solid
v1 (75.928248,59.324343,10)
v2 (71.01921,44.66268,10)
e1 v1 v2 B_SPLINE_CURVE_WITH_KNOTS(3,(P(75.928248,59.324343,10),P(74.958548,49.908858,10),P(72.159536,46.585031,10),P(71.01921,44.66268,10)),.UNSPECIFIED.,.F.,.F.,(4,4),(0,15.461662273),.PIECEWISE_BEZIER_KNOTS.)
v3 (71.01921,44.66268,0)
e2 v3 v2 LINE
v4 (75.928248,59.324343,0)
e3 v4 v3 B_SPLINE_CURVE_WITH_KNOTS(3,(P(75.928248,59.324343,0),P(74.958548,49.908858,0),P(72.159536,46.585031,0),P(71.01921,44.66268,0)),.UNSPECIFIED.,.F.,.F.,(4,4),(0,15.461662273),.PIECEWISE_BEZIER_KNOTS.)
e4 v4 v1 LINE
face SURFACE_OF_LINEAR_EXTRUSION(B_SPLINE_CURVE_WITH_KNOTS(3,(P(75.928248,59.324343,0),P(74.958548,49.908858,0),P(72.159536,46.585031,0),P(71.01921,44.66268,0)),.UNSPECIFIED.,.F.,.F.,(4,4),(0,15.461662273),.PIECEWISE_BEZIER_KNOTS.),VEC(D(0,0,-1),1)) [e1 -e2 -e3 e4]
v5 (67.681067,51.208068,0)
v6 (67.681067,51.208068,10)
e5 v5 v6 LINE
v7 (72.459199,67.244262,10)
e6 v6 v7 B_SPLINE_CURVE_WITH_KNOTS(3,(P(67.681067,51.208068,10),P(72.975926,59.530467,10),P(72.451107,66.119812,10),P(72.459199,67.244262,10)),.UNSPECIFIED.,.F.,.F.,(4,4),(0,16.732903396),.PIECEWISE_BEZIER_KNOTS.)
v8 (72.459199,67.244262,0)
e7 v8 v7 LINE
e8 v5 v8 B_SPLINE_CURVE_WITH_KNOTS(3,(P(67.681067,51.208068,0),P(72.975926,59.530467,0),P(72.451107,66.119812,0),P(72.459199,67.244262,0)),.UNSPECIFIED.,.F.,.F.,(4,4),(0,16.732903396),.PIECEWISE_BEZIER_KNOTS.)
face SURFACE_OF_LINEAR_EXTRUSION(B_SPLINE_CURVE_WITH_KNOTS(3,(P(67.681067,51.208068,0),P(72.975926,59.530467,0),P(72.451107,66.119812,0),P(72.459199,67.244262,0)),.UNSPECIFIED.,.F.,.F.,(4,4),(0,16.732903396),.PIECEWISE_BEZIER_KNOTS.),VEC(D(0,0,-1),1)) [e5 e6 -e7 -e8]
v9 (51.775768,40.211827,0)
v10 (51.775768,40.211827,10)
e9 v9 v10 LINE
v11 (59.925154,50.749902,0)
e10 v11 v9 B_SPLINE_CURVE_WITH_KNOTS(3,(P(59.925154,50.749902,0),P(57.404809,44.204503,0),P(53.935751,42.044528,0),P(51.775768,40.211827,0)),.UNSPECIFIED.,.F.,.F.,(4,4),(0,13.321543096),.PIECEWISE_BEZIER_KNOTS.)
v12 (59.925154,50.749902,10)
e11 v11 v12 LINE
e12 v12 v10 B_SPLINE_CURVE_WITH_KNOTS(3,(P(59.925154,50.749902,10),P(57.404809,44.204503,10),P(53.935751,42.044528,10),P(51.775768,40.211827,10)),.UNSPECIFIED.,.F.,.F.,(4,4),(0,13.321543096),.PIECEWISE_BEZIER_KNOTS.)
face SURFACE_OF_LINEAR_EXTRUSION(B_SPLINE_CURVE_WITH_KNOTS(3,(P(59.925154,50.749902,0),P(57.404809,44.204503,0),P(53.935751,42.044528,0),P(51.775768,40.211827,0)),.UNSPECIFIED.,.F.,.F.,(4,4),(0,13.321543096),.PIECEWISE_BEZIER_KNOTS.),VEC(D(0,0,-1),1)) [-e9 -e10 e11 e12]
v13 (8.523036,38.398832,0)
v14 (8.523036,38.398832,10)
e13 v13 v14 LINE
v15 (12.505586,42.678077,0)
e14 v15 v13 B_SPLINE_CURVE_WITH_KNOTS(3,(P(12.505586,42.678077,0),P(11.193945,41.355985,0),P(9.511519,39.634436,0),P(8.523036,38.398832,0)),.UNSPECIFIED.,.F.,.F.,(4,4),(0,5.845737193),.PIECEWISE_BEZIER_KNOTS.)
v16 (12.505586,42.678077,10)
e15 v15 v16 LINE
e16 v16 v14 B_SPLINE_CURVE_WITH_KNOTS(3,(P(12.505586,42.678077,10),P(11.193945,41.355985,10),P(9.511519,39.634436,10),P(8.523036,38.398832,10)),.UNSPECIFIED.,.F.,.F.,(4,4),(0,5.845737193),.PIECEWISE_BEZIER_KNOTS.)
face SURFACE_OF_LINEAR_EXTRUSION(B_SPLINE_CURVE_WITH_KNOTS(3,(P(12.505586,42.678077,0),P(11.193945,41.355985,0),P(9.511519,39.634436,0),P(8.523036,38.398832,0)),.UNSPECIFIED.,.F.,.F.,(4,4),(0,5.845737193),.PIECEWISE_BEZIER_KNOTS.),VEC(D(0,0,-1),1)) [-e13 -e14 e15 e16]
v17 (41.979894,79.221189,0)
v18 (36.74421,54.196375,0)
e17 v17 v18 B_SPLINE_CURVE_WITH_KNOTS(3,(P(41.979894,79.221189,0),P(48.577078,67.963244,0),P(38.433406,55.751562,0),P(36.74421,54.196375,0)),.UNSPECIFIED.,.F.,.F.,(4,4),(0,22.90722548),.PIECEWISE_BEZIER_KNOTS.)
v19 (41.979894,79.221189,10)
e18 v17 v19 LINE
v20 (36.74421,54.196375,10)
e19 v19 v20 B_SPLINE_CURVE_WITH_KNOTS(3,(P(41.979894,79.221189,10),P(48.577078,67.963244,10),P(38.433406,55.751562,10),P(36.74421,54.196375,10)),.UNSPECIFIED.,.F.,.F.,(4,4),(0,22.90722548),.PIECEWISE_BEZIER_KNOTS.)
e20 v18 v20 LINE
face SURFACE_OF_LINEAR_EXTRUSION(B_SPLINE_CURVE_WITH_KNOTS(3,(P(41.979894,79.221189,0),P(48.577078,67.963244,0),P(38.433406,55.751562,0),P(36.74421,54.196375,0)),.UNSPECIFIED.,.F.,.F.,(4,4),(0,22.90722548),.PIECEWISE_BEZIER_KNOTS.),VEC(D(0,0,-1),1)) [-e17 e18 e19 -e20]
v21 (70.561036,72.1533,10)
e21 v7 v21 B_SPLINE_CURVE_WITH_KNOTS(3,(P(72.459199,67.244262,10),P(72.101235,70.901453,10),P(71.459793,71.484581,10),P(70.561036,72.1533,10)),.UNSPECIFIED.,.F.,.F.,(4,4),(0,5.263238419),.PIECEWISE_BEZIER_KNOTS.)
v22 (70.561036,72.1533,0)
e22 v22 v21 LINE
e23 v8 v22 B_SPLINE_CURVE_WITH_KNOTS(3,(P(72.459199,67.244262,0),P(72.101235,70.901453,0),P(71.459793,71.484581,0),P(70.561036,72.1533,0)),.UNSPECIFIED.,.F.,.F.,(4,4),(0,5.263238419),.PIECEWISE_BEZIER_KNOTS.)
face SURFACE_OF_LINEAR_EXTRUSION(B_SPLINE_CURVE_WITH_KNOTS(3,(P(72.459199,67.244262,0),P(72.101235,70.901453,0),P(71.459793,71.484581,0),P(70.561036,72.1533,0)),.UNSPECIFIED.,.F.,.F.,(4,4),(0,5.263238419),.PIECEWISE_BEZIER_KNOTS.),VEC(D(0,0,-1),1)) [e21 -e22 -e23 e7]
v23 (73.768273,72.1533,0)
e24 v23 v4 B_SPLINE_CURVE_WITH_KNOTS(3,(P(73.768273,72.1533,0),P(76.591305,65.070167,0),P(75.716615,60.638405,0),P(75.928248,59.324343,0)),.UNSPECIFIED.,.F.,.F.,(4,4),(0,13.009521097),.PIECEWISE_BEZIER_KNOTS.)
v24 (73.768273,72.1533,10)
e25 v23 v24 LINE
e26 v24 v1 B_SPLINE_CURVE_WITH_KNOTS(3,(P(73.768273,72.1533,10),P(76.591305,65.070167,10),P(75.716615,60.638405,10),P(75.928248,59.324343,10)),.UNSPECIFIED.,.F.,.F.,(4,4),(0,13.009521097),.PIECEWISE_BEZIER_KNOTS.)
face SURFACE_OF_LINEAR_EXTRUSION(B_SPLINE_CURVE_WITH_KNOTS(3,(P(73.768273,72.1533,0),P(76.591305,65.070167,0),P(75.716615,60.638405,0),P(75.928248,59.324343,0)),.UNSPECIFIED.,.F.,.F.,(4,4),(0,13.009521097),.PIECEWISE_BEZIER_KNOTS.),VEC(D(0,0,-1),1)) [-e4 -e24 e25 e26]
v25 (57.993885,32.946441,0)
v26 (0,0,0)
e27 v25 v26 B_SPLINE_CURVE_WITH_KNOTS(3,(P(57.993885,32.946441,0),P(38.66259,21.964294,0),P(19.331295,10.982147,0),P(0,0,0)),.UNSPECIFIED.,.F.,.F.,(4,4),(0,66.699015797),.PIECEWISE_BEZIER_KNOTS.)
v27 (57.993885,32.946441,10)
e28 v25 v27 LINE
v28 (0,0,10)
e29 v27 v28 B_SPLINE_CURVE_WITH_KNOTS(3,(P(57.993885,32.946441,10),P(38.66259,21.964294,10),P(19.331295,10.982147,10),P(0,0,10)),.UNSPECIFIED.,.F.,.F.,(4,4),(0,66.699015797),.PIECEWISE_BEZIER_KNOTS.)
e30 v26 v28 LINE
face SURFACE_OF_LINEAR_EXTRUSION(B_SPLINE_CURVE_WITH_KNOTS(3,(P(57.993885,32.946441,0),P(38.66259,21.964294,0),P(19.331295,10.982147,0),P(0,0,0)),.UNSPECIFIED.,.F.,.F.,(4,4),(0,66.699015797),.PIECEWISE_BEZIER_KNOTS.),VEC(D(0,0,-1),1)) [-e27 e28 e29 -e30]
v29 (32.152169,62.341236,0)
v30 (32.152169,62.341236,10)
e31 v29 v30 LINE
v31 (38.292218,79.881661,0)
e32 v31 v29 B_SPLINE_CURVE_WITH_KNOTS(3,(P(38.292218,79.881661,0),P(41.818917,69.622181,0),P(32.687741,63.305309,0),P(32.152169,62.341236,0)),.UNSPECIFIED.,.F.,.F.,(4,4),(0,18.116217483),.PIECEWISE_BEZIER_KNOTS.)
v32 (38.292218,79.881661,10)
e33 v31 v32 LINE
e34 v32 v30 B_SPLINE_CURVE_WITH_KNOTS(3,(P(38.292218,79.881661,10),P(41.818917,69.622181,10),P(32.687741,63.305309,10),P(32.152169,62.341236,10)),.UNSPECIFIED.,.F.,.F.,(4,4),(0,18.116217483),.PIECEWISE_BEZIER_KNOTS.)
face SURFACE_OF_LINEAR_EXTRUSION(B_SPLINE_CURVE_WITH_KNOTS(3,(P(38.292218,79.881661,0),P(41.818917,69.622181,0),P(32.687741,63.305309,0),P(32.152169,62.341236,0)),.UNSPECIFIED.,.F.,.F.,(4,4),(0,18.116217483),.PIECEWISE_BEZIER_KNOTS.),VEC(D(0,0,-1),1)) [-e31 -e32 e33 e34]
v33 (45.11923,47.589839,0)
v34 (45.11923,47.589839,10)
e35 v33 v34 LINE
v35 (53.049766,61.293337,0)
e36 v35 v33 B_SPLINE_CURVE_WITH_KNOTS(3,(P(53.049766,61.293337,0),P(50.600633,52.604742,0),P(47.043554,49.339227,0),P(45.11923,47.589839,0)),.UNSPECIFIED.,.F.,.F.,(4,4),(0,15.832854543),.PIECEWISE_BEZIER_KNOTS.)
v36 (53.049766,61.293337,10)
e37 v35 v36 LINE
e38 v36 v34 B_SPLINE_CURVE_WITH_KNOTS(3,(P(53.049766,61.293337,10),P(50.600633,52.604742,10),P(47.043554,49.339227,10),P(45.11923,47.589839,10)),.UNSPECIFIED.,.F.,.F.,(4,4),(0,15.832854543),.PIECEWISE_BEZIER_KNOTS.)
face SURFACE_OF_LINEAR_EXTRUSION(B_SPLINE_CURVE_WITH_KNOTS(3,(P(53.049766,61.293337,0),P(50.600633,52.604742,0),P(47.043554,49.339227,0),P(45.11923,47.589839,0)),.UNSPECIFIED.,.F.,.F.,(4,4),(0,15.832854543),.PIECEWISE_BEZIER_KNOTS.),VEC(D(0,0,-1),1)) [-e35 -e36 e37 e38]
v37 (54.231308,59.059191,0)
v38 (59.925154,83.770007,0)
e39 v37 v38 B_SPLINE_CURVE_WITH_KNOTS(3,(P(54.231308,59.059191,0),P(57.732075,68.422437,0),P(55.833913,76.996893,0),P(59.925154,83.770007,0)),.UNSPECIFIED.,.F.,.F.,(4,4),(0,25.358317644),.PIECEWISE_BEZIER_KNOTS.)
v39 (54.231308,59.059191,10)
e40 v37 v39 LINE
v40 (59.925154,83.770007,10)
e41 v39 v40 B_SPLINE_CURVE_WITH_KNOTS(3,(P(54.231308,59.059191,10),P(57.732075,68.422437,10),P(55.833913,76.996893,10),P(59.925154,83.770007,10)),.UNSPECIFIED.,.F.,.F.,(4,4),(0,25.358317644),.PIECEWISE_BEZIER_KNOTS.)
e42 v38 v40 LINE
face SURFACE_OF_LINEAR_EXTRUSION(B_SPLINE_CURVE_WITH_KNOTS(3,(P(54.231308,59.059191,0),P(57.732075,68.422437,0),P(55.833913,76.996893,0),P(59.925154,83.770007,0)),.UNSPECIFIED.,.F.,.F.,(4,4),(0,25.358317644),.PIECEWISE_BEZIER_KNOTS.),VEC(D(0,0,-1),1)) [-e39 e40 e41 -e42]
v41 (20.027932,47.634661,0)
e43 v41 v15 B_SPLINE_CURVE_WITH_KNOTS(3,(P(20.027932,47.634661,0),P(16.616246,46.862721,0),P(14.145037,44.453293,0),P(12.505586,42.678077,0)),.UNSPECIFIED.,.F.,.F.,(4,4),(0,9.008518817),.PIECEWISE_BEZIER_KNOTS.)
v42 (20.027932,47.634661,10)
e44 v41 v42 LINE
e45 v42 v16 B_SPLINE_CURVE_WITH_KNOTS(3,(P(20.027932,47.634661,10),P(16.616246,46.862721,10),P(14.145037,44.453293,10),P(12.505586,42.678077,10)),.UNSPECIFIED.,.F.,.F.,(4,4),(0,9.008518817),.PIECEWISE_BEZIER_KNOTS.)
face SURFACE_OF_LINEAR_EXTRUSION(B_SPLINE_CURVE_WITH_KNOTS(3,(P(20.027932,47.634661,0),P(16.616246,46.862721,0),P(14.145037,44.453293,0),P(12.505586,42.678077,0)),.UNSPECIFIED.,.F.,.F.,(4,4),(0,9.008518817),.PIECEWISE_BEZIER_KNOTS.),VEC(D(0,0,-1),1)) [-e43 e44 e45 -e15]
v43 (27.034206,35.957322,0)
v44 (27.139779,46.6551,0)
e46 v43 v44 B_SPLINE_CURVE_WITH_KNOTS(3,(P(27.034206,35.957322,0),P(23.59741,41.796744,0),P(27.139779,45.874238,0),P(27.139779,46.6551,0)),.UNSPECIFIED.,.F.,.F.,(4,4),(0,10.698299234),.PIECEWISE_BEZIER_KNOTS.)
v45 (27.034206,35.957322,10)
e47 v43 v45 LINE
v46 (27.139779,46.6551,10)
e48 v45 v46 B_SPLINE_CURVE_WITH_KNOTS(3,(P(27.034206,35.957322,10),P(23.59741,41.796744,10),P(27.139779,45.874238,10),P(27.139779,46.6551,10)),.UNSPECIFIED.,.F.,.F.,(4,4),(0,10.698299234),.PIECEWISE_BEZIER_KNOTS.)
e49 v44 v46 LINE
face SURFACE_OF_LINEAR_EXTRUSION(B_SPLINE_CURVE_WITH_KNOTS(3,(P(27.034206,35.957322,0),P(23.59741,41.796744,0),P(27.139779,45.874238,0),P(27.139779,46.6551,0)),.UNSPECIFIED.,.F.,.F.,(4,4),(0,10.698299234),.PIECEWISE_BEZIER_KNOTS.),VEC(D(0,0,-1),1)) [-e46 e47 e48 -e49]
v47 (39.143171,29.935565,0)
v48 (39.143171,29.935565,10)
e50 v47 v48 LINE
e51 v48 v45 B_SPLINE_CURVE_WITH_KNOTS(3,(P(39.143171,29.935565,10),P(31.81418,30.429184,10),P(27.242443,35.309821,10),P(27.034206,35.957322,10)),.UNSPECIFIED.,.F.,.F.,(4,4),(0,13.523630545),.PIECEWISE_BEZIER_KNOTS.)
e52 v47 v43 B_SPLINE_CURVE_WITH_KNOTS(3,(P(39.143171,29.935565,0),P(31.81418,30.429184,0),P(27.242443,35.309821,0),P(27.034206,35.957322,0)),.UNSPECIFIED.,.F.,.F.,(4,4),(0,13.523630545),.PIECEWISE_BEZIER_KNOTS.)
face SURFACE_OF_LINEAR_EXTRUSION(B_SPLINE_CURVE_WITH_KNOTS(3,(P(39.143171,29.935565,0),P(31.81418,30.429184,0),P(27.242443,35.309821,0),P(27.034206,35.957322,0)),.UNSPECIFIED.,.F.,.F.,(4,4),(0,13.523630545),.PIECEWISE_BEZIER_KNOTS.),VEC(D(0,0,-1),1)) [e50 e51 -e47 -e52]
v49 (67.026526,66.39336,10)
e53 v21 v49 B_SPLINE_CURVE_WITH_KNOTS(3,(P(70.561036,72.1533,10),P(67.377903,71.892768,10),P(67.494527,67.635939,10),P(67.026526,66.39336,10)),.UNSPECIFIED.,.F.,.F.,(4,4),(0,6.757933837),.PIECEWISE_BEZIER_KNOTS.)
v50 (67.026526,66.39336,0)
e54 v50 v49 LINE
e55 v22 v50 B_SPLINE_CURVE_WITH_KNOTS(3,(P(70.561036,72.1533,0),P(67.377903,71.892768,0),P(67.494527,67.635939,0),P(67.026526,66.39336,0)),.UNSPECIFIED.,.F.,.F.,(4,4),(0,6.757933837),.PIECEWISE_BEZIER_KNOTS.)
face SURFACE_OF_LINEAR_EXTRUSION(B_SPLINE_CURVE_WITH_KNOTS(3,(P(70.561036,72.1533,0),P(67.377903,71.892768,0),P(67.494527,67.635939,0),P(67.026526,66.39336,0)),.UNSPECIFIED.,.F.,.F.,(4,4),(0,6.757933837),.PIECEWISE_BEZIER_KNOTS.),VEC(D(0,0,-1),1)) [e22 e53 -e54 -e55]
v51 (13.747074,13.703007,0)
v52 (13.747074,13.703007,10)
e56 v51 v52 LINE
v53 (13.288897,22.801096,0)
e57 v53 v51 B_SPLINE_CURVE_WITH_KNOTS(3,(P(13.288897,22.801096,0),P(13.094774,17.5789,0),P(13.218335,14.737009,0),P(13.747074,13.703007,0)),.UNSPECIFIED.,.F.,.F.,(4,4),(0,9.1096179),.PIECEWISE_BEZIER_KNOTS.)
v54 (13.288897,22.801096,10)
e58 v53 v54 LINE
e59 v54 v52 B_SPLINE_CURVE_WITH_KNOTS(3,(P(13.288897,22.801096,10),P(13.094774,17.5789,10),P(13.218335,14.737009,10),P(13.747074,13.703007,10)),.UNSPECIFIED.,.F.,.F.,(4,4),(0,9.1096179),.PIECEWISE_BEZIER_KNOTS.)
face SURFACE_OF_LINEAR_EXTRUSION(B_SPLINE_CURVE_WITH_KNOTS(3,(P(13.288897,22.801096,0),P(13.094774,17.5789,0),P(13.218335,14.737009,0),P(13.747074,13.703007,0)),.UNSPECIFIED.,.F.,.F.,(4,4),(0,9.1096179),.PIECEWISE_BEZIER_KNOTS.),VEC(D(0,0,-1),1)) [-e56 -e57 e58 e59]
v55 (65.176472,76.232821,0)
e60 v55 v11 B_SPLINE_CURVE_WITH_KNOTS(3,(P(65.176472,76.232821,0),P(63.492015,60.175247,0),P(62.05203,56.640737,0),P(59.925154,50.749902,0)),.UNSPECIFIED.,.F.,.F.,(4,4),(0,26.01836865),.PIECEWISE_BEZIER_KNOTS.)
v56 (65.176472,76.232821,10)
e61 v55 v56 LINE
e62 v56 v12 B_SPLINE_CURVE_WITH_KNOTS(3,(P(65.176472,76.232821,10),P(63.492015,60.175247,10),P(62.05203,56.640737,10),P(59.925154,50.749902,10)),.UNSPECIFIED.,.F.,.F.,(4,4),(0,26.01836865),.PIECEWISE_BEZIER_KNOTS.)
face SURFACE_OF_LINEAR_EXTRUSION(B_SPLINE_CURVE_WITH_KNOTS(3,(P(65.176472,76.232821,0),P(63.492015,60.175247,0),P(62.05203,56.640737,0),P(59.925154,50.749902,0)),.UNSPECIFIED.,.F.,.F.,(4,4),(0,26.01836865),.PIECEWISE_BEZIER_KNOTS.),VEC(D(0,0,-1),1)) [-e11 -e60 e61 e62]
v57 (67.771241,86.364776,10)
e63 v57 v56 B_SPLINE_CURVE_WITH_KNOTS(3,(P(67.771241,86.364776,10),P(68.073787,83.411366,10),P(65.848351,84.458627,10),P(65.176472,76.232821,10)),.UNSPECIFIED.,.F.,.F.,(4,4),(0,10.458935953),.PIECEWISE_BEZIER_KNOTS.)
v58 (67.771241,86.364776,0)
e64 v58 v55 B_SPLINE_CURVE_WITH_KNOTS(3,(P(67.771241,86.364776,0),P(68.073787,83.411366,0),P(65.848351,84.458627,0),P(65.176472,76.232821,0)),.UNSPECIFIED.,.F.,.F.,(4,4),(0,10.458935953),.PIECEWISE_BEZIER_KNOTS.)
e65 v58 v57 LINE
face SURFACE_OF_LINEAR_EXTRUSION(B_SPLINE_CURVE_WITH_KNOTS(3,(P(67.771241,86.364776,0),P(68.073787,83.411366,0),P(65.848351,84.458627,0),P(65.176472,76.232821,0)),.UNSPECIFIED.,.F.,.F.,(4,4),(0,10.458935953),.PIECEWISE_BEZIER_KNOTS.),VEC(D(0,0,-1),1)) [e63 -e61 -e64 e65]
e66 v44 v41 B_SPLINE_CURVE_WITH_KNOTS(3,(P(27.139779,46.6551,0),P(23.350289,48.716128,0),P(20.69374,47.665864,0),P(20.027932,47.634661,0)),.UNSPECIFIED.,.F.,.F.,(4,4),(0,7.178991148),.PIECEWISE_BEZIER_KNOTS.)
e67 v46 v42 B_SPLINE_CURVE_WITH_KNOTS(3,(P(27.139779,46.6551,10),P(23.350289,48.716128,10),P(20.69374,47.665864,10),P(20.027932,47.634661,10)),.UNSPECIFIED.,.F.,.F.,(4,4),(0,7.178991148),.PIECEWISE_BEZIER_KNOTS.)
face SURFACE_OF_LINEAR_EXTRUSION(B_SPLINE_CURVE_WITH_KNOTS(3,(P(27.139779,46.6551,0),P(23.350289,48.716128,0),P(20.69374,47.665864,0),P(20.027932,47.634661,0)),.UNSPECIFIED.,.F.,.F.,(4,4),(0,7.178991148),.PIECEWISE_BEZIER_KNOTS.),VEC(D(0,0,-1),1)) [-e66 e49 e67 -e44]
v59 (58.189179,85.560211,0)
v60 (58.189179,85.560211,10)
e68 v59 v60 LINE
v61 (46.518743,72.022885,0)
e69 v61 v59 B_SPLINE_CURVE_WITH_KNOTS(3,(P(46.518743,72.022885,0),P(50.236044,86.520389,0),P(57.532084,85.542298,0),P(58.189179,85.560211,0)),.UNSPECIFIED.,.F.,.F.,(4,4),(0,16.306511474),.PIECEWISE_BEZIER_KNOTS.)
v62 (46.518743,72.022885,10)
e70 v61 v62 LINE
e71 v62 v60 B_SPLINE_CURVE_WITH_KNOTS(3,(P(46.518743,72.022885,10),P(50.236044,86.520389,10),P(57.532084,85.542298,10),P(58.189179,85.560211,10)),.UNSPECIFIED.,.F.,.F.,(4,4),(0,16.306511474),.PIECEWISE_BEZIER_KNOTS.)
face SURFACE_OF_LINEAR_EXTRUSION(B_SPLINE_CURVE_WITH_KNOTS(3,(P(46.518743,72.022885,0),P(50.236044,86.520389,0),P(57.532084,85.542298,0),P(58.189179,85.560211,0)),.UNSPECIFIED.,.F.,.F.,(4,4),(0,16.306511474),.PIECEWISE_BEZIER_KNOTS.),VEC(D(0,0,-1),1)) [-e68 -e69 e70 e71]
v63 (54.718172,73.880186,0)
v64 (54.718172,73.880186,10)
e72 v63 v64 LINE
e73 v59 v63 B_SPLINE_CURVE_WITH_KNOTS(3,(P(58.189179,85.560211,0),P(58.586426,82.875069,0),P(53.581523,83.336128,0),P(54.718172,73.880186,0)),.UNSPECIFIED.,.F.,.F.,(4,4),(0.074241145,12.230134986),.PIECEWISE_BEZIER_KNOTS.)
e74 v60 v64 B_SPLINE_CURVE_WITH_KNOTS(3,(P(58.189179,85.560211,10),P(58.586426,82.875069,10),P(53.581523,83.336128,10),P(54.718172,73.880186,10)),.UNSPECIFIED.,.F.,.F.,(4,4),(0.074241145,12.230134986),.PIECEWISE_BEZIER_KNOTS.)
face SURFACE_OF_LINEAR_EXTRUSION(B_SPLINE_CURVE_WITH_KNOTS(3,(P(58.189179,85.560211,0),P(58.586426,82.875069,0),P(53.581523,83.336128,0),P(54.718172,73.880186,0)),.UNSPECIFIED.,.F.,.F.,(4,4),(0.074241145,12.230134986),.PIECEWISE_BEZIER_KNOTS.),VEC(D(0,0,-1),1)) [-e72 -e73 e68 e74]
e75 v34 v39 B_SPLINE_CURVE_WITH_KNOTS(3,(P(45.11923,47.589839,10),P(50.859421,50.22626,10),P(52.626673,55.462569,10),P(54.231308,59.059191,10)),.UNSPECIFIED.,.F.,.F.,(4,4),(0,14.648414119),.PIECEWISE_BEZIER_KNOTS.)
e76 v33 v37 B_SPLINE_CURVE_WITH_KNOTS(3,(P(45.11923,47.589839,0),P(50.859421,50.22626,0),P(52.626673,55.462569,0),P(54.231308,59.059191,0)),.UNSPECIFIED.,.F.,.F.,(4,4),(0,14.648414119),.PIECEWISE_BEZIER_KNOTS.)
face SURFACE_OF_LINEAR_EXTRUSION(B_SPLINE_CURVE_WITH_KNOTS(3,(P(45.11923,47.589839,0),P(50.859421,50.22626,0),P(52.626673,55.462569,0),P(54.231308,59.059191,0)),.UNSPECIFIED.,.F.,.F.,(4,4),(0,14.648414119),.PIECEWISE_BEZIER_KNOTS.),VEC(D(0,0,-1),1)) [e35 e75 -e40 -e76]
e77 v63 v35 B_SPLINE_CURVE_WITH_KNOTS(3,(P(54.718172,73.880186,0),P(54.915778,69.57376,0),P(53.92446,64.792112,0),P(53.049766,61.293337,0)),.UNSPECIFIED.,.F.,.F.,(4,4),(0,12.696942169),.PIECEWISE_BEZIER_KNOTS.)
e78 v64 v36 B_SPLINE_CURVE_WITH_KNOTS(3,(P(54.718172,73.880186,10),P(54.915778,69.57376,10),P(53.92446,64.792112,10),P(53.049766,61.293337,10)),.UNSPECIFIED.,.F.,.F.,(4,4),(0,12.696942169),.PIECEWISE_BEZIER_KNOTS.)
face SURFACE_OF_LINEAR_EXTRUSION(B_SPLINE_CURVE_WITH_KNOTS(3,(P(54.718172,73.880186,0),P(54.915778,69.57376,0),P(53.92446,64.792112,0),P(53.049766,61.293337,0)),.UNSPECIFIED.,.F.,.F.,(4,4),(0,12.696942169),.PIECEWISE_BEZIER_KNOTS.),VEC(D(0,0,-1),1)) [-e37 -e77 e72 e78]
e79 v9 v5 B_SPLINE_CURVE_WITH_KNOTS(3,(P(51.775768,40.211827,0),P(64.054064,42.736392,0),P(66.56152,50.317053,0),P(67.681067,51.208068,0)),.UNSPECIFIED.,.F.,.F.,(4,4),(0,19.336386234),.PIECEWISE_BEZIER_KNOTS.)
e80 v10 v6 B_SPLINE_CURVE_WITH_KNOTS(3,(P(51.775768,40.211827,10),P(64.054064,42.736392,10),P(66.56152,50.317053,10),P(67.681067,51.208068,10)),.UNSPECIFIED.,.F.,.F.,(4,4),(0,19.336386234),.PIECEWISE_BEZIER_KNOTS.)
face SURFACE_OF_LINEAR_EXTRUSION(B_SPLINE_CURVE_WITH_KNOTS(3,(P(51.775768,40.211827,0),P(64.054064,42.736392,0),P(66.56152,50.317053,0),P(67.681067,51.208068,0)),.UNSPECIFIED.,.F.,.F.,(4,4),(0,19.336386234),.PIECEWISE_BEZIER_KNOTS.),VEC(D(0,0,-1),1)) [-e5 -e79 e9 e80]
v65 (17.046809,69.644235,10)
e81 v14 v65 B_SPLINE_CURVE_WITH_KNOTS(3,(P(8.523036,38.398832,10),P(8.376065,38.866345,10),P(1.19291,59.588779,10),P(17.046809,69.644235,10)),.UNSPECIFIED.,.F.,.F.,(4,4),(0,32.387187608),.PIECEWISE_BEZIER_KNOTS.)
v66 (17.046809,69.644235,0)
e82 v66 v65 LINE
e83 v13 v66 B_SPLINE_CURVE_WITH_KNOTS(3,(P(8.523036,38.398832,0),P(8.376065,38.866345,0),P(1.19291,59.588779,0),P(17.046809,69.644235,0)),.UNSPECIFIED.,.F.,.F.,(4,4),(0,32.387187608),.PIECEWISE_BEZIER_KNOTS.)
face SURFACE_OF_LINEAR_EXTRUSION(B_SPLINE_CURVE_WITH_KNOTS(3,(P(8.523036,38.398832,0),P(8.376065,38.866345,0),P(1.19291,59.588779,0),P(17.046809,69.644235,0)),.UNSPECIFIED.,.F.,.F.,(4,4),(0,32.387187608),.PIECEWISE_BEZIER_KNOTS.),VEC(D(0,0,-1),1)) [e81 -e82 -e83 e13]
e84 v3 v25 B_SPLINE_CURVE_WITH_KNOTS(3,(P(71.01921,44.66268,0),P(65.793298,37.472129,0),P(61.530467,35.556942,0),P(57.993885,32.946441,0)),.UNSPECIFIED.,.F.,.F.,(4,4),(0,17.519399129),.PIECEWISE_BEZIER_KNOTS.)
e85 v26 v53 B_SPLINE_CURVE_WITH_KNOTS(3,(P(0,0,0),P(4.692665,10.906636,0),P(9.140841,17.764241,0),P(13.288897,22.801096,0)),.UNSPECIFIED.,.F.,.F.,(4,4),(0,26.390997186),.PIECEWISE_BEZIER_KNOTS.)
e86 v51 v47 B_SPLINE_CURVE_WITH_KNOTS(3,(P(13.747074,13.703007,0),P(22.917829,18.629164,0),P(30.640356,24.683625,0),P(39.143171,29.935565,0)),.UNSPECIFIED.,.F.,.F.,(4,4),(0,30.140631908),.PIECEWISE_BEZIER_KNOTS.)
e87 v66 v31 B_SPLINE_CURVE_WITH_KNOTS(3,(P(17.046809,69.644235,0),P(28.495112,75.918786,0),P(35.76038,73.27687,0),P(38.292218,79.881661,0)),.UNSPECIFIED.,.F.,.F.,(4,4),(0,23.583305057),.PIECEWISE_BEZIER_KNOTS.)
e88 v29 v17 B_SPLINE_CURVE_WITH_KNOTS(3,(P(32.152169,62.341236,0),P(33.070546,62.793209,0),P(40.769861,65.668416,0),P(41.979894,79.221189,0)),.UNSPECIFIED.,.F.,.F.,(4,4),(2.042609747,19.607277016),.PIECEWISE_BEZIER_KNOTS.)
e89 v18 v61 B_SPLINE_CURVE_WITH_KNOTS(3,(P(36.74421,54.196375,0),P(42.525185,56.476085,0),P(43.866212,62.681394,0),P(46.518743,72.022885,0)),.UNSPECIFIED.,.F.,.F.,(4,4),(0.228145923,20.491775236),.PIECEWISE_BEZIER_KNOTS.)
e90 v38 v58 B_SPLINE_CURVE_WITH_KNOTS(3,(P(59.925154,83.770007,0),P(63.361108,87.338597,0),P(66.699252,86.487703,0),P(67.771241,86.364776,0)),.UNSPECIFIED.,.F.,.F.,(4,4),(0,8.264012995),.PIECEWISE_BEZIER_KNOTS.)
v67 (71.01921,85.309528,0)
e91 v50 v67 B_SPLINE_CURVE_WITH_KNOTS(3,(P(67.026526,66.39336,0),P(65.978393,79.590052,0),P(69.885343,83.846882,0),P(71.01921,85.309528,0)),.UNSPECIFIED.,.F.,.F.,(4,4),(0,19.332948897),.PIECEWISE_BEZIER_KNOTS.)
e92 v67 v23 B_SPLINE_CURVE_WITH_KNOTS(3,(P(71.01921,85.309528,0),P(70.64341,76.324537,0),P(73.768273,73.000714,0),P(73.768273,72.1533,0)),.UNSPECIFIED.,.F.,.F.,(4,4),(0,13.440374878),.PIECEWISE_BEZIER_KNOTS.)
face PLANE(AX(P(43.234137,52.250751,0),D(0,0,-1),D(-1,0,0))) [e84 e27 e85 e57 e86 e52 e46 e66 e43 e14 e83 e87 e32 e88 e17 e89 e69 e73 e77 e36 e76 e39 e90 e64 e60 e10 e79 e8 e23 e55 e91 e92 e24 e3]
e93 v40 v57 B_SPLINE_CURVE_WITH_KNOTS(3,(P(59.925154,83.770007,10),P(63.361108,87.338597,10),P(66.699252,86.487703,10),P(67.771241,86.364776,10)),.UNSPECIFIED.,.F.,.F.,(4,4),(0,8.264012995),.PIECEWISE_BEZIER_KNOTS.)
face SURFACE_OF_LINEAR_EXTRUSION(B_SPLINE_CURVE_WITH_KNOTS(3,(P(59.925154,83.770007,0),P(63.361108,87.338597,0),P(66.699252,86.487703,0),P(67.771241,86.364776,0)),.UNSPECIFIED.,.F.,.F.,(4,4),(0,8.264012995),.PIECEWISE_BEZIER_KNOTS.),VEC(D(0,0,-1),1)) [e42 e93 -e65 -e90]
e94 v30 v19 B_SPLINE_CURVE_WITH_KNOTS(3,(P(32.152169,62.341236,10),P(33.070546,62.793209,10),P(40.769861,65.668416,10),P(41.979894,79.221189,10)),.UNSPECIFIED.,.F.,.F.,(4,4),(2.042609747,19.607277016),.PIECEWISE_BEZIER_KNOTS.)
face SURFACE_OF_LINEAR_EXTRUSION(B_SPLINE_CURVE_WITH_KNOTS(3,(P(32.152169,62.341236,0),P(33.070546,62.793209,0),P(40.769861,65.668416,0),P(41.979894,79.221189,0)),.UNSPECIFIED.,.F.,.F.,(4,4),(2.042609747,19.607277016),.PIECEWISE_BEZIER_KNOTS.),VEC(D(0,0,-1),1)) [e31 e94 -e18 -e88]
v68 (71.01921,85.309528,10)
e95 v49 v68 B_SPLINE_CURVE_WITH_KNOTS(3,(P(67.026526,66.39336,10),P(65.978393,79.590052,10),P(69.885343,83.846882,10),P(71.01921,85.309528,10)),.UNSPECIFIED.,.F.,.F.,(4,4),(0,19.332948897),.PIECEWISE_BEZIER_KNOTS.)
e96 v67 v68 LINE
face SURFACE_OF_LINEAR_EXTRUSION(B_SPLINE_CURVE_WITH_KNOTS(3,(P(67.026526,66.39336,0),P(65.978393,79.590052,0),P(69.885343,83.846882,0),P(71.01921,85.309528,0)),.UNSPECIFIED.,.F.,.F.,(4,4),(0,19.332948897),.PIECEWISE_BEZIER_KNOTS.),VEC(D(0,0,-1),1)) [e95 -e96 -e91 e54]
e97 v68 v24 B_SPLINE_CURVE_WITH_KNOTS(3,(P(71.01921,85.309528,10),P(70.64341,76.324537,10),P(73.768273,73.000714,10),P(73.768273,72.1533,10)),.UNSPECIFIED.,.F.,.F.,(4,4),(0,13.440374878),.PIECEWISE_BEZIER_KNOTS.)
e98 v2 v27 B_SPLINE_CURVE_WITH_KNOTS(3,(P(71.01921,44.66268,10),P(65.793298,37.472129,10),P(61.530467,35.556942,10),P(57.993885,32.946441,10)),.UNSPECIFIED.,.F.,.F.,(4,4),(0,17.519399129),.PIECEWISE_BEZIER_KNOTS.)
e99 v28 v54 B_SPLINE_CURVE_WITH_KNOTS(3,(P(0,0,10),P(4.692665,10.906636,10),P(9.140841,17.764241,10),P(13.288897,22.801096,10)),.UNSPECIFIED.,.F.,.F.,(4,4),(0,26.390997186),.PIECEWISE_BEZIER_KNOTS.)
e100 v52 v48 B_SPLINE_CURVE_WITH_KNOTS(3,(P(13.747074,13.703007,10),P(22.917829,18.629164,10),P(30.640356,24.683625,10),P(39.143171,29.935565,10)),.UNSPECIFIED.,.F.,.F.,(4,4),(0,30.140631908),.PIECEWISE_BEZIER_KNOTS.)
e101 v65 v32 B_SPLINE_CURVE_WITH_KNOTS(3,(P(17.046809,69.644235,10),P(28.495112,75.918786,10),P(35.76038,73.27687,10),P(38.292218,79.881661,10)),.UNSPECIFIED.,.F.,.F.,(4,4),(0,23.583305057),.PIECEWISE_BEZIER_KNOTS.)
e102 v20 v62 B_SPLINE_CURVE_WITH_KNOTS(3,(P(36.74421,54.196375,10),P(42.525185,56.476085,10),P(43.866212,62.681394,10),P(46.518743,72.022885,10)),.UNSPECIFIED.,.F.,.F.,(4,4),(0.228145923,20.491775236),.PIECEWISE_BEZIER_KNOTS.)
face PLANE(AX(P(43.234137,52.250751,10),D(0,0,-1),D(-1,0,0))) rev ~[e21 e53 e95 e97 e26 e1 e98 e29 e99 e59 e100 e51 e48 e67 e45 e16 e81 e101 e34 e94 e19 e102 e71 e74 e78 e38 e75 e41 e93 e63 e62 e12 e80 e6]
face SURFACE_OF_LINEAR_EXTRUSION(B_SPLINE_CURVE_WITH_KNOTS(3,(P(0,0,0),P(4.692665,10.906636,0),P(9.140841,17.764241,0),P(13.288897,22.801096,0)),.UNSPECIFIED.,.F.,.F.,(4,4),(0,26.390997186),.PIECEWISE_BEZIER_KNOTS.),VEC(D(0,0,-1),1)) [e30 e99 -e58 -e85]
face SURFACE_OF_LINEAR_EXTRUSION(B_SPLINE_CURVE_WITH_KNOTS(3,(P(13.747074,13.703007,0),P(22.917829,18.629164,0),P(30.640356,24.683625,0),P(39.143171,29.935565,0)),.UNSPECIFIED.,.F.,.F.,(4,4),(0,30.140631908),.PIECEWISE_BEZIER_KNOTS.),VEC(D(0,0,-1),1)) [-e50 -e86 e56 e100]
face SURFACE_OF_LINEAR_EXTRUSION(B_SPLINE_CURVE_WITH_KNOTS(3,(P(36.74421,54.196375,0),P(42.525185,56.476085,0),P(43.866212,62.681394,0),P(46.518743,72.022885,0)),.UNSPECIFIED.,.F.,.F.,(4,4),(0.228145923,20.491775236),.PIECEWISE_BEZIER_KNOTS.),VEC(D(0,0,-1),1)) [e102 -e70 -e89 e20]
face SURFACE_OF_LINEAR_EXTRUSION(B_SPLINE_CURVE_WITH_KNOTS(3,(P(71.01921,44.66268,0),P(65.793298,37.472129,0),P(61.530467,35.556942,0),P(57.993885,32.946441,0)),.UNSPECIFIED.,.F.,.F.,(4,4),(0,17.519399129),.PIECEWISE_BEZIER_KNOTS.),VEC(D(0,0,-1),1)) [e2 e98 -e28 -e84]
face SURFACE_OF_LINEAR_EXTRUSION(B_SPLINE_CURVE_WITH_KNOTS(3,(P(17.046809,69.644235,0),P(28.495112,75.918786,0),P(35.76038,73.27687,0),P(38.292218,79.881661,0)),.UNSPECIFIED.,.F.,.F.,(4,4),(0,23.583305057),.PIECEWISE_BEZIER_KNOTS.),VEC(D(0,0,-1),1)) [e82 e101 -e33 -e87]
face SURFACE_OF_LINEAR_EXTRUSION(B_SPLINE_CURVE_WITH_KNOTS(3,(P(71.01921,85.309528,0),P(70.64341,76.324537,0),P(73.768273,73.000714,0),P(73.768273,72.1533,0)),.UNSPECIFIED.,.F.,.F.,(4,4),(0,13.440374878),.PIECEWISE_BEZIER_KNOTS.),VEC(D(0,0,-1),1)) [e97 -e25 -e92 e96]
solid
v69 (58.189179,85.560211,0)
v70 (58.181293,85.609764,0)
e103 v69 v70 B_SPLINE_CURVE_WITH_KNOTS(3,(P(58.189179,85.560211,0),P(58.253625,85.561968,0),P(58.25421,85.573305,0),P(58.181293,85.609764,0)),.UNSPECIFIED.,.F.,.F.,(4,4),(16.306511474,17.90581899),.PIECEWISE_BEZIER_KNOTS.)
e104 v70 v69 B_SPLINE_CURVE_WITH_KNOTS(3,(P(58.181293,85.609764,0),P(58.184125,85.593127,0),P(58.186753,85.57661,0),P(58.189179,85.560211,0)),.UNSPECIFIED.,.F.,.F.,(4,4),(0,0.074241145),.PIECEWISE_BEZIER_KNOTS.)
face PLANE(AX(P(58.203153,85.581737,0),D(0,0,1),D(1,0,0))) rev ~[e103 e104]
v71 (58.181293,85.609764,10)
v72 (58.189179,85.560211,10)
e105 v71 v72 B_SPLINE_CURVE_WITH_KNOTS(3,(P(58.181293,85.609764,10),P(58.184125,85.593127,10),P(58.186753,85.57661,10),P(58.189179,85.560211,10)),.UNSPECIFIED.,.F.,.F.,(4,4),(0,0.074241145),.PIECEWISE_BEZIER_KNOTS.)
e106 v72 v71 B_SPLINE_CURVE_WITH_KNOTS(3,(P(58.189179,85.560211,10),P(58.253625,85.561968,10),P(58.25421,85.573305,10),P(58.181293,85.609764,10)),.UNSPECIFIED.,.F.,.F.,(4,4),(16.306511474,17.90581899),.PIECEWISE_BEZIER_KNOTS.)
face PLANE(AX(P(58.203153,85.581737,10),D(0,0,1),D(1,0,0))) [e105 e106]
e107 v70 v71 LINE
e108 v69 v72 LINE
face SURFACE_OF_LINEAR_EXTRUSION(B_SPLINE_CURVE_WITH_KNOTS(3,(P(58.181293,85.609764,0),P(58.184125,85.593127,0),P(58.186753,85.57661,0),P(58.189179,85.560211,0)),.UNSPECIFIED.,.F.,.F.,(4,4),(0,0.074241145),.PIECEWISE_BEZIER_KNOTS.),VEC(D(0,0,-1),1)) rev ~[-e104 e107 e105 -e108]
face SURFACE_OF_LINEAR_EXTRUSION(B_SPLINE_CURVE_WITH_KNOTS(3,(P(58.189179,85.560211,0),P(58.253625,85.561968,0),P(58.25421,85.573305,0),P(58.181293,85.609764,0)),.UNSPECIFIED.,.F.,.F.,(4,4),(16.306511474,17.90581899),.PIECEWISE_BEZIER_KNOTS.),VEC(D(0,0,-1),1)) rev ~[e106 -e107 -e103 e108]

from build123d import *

# Parameters (mm, degrees)
F1_DEPTH = 10


with BuildPart() as f1:
    # F0 (on Top) → F1 (new body)
    with BuildSketch(Plane.XY):
        with BuildLine():
            add(Edge.make_bspline(
                [(58.1812933087, 85.6097638607), (58.1841250991, 85.5931268886), (58.1867527565, 85.5766102474), (58.1891789105, 85.5602109613)],
                knots=[0, 0, 0, 0, 0.0742411452, 0.0742411452, 0.0742411452, 0.0742411452], degree=3))
            add(Edge.make_bspline(
                [(58.18917891, 85.5602109561), (58.2536253791, 85.5619678043), (58.2542100908, 85.5733054697), (58.1812933087, 85.6097638607)],
                knots=[16.3065114736, 16.3065114736, 16.3065114736, 16.3065114736, 17.90581899, 17.90581899, 17.90581899, 17.90581899], degree=3))
        make_face()
    extrude(amount=F1_DEPTH)


with BuildPart() as f1b:
    # F0 (on Top) → F1, piece 2 (new body)
    with BuildSketch(Plane.XY):
        with BuildLine():
            add(Edge.make_bspline(
                [(8.5230357945, 38.3988320827), (8.3760647103, 38.8663448393), (1.192909549, 59.588778764), (17.0468091965, 69.6442350745)],
                knots=[0, 0, 0, 0, 32.3871876075, 32.3871876075, 32.3871876075, 32.3871876075], degree=3))
            add(Edge.make_bspline(
                [(12.5055862591, 42.6780767739), (11.1939450726, 41.3559849064), (9.5115192235, 39.6344363689), (8.5230357945, 38.3988320827)],
                knots=[0, 0, 0, 0, 5.845737193, 5.845737193, 5.845737193, 5.845737193], degree=3))
            add(Edge.make_bspline(
                [(20.0279317796, 47.6346611977), (16.6162457317, 46.8627214432), (14.1450371593, 44.4532930851), (12.5055862591, 42.6780767739)],
                knots=[0, 0, 0, 0, 9.0085188172, 9.0085188172, 9.0085188172, 9.0085188172], degree=3))
            add(Edge.make_bspline(
                [(27.1397791803, 46.655099839), (23.3502890915, 48.7161278725), (20.6937398762, 47.6658642292), (20.0279317796, 47.6346611977)],
                knots=[0, 0, 0, 0, 7.1789911482, 7.1789911482, 7.1789911482, 7.1789911482], degree=3))
            add(Edge.make_bspline(
                [(27.0342063159, 35.9573215246), (23.5974099487, 41.7967438698), (27.1397791803, 45.8742380142), (27.1397791803, 46.655099839)],
                knots=[0, 0, 0, 0, 10.6982992337, 10.6982992337, 10.6982992337, 10.6982992337], degree=3))
            add(Edge.make_bspline(
                [(39.1431711614, 29.9355648458), (31.8141803145, 30.4291844368), (27.242442593, 35.3098213673), (27.0342063159, 35.9573215246)],
                knots=[0, 0, 0, 0, 13.5236305454, 13.5236305454, 13.5236305454, 13.5236305454], degree=3))
            add(Edge.make_bspline(
                [(13.74707371, 13.703007251), (22.9178294539, 18.6291635036), (30.6403562427, 24.683624506), (39.1431711614, 29.9355648458)],
                knots=[0, 0, 0, 0, 30.1406319083, 30.1406319083, 30.1406319083, 30.1406319083], degree=3))
            add(Edge.make_bspline(
                [(13.2888965309, 22.8010956198), (13.0947744474, 17.5788998604), (13.218334876, 14.7370090708), (13.74707371, 13.703007251)],
                knots=[0, 0, 0, 0, 9.1096179005, 9.1096179005, 9.1096179005, 9.1096179005], degree=3))
            add(Edge.make_bspline(
                [(0, 0), (4.6926648356, 10.9066357836), (9.1408407316, 17.7642405033), (13.2888965309, 22.8010956198)],
                knots=[0, 0, 0, 0, 26.390997186, 26.390997186, 26.390997186, 26.390997186], degree=3))
            add(Edge.make_bspline(
                [(57.9938851297, 32.9464413226), (38.6625900865, 21.964294215), (19.3312950432, 10.9821471075), (0, 0)],
                knots=[0, 0, 0, 0, 66.6990157968, 66.6990157968, 66.6990157968, 66.6990157968], degree=3))
            add(Edge.make_bspline(
                [(71.0192099214, 44.6626804769), (65.7932981849, 37.4721288681), (61.5304671228, 35.5569422245), (57.9938851297, 32.9464413226)],
                knots=[0, 0, 0, 0, 17.5193991293, 17.5193991293, 17.5193991293, 17.5193991293], degree=3))
            add(Edge.make_bspline(
                [(75.9282484651, 59.3243427575), (74.9585479498, 49.9088577926), (72.1595361829, 46.5850308537), (71.0192099214, 44.6626804769)],
                knots=[0, 0, 0, 0, 15.4616622733, 15.4616622733, 15.4616622733, 15.4616622733], degree=3))
            add(Edge.make_bspline(
                [(73.7682729959, 72.1533000469), (76.5913054347, 65.0701671839), (75.7166147232, 60.6384053826), (75.9282484651, 59.3243427575)],
                knots=[0, 0, 0, 0, 13.0095210966, 13.0095210966, 13.0095210966, 13.0095210966], degree=3))
            add(Edge.make_bspline(
                [(71.0192099214, 85.3095278144), (70.6434100866, 76.3245373964), (73.7682729959, 73.0007141829), (73.7682729959, 72.1533000469)],
                knots=[0, 0, 0, 0, 13.4403748779, 13.4403748779, 13.4403748779, 13.4403748779], degree=3))
            add(Edge.make_bspline(
                [(67.0265257359, 66.3933604956), (65.9783929586, 79.5900523663), (69.8853433132, 83.8468819857), (71.0192099214, 85.3095278144)],
                knots=[0, 0, 0, 0, 19.3329488966, 19.3329488966, 19.3329488966, 19.3329488966], degree=3))
            add(Edge.make_bspline(
                [(70.5610364676, 72.1533000469), (67.3779025674, 71.8927681446), (67.4945265055, 67.6359385252), (67.0265257359, 66.3933604956)],
                knots=[0, 0, 0, 0, 6.7579338372, 6.7579338372, 6.7579338372, 6.7579338372], degree=3))
            add(Edge.make_bspline(
                [(72.4591985345, 67.2442615032), (72.1012353897, 70.901453495), (71.4597925544, 71.484580636), (70.5610364676, 72.1533000469)],
                knots=[0, 0, 0, 0, 5.2632384191, 5.2632384191, 5.2632384191, 5.2632384191], degree=3))
            add(Edge.make_bspline(
                [(67.6810666919, 51.2080676854), (72.9759261012, 59.530466795), (72.451107204, 66.119812429), (72.4591985345, 67.2442615032)],
                knots=[0, 0, 0, 0, 16.7329033963, 16.7329033963, 16.7329033963, 16.7329033963], degree=3))
            add(Edge.make_bspline(
                [(51.7757683992, 40.2118265629), (64.0540644526, 42.7363924682), (66.5615200996, 50.3170527518), (67.6810666919, 51.2080676854)],
                knots=[0, 0, 0, 0, 19.3363862343, 19.3363862343, 19.3363862343, 19.3363862343], degree=3))
            add(Edge.make_bspline(
                [(59.9251538515, 50.7499016821), (57.4048087001, 44.2045032978), (53.9357513189, 42.0445278287), (51.7757683992, 40.2118265629)],
                knots=[0, 0, 0, 0, 13.3215430964, 13.3215430964, 13.3215430964, 13.3215430964], degree=3))
            add(Edge.make_bspline(
                [(65.1764720678, 76.2328207493), (63.4920150042, 60.1752474904), (62.0520301163, 56.6407367587), (59.9251538515, 50.7499016821)],
                knots=[0, 0, 0, 0, 26.0183686497, 26.0183686497, 26.0183686497, 26.0183686497], degree=3))
            add(Edge.make_bspline(
                [(67.7712410688, 86.3647758961), (68.0737867951, 83.4113657475), (65.8483505249, 84.4586268067), (65.1764720678, 76.2328207493)],
                knots=[0, 0, 0, 0, 10.4589359528, 10.4589359528, 10.4589359528, 10.4589359528], degree=3))
            add(Edge.make_bspline(
                [(59.9251538515, 83.7700068951), (63.3611083031, 87.3385965824), (66.6992515326, 86.4877030253), (67.7712410688, 86.3647758961)],
                knots=[0, 0, 0, 0, 8.2640129955, 8.2640129955, 8.2640129955, 8.2640129955], degree=3))
            add(Edge.make_bspline(
                [(54.2313084006, 59.0591914952), (57.7320754528, 68.4224367142), (55.8339133859, 76.9968926907), (59.9251538515, 83.7700068951)],
                knots=[0, 0, 0, 0, 25.3583176442, 25.3583176442, 25.3583176442, 25.3583176442], degree=3))
            add(Edge.make_bspline(
                [(45.1192297041, 47.5898385048), (50.8594214916, 50.2262599766), (52.6266731322, 55.4625689983), (54.2313084006, 59.0591914952)],
                knots=[0, 0, 0, 0, 14.6484141186, 14.6484141186, 14.6484141186, 14.6484141186], degree=3))
            add(Edge.make_bspline(
                [(53.0497655272, 61.2933374941), (50.6006330252, 52.6047423482), (47.0435544848, 49.3392273784), (45.1192297041, 47.5898385048)],
                knots=[0, 0, 0, 0, 15.8328545434, 15.8328545434, 15.8328545434, 15.8328545434], degree=3))
            add(Edge.make_bspline(
                [(54.7181718917, 73.8801862118), (54.9157783389, 69.5737600327), (53.924459964, 64.792111516), (53.0497655272, 61.2933374941)],
                knots=[0, 0, 0, 0, 12.6969421688, 12.6969421688, 12.6969421688, 12.6969421688], degree=3))
            add(Edge.make_bspline(
                [(58.1891789105, 85.5602109613), (58.5864258891, 82.875069452), (53.5815226929, 83.3361278309), (54.7181718917, 73.8801862118)],
                knots=[0.0742411452, 0.0742411452, 0.0742411452, 0.0742411452, 12.2301349858, 12.2301349858, 12.2301349858, 12.2301349858], degree=3))
            add(Edge.make_bspline(
                [(46.5187430382, 72.0228850842), (50.2360443913, 86.5203885195), (57.5320838377, 85.542298162), (58.18917891, 85.5602109561)],
                knots=[0, 0, 0, 0, 16.3065114736, 16.3065114736, 16.3065114736, 16.3065114736], degree=3))
            add(Edge.make_bspline(
                [(36.7442097465, 54.1963754503), (42.525184556, 56.4760852712), (43.8662123039, 62.6813942342), (46.5187430382, 72.0228850842)],
                knots=[0.2281459231, 0.2281459231, 0.2281459231, 0.2281459231, 20.491775236, 20.491775236, 20.491775236, 20.491775236], degree=3))
            add(Edge.make_bspline(
                [(41.979894042, 79.2211890221), (48.5770784859, 67.9632438107), (38.4334059964, 55.7515616584), (36.7442097465, 54.1963754503)],
                knots=[0, 0, 0, 0, 22.9072254799, 22.9072254799, 22.9072254799, 22.9072254799], degree=3))
            add(Edge.make_bspline(
                [(32.1521687688, 62.3412363997), (33.0705456357, 62.7932086076), (40.7698605571, 65.6684161963), (41.979894042, 79.2211890221)],
                knots=[2.0426097474, 2.0426097474, 2.0426097474, 2.0426097474, 19.6072770162, 19.6072770162, 19.6072770162, 19.6072770162], degree=3))
            add(Edge.make_bspline(
                [(38.2922179997, 79.8816606402), (41.818916673, 69.622180824), (32.6877412687, 63.3053088898), (32.1521687688, 62.3412363997)],
                knots=[0, 0, 0, 0, 18.1162174826, 18.1162174826, 18.1162174826, 18.1162174826], degree=3))
            add(Edge.make_bspline(
                [(17.0468091965, 69.6442350745), (28.495112434, 75.9187862277), (35.7603803277, 73.2768699527), (38.2922179997, 79.8816606402)],
                knots=[0, 0, 0, 0, 23.5833050574, 23.5833050574, 23.5833050574, 23.5833050574], degree=3))
        make_face()
        with BuildLine():
            add(Edge.make_bspline(
                [(36.5472510457, 54.1208684444), (36.6134722373, 54.1455390763), (36.6791224014, 54.1707084538), (36.7442097465, 54.1963754503)],
                knots=[0, 0, 0, 0, 0.2281459231, 0.2281459231, 0.2281459231, 0.2281459231], degree=3))
            add(Edge.make_bspline(
                [(36.7442097465, 54.1963754503), (36.5396322565, 54.0080278317), (36.4590606191, 53.9759841434), (36.5472510457, 54.1208684444)],
                knots=[22.9072254799, 22.9072254799, 22.9072254799, 22.9072254799, 25.6815050771, 25.6815050771, 25.6815050771, 25.6815050771], degree=3))
        make_face(mode=Mode.SUBTRACT)
        with BuildLine():
            add(Edge.make_bspline(
                [(32.1277491748, 62.2688867152), (32.0302735557, 62.2688867152), (32.0453699601, 62.2886761762), (32.1521687688, 62.3412363997)],
                knots=[0, 0, 0, 0, 2.0426097474, 2.0426097474, 2.0426097474, 2.0426097474], degree=3))
            add(Edge.make_bspline(
                [(32.1521687688, 62.3412363997), (32.1360810553, 62.3122772539), (32.1277491748, 62.288147952), (32.1277491748, 62.2688867152)],
                knots=[18.1162174826, 18.1162174826, 18.1162174826, 18.1162174826, 18.6603987425, 18.6603987425, 18.6603987425, 18.6603987425], degree=3))
        make_face(mode=Mode.SUBTRACT)
        with BuildLine():
            add(Edge.make_bspline(
                [(36.7442097465, 54.1963754503), (36.5396322565, 54.0080278317), (36.4590606191, 53.9759841434), (36.5472510457, 54.1208684444)],
                knots=[22.9072254799, 22.9072254799, 22.9072254799, 22.9072254799, 25.6815050771, 25.6815050771, 25.6815050771, 25.6815050771], degree=3))
            add(Edge.make_bspline(
                [(36.5472510457, 54.1208684444), (36.6134722373, 54.1455390763), (36.6791224014, 54.1707084538), (36.7442097465, 54.1963754503)],
                knots=[0, 0, 0, 0, 0.2281459231, 0.2281459231, 0.2281459231, 0.2281459231], degree=3))
        make_face()
        with BuildLine():
            add(Edge.make_bspline(
                [(32.1521687688, 62.3412363997), (32.1360810553, 62.3122772539), (32.1277491748, 62.288147952), (32.1277491748, 62.2688867152)],
                knots=[18.1162174826, 18.1162174826, 18.1162174826, 18.1162174826, 18.6603987425, 18.6603987425, 18.6603987425, 18.6603987425], degree=3))
            add(Edge.make_bspline(
                [(32.1277491748, 62.2688867152), (32.0302735557, 62.2688867152), (32.0453699601, 62.2886761762), (32.1521687688, 62.3412363997)],
                knots=[0, 0, 0, 0, 2.0426097474, 2.0426097474, 2.0426097474, 2.0426097474], degree=3))
        make_face()
    extrude(amount=F1_DEPTH)


solid = Compound([f1.part, f1b.part])
